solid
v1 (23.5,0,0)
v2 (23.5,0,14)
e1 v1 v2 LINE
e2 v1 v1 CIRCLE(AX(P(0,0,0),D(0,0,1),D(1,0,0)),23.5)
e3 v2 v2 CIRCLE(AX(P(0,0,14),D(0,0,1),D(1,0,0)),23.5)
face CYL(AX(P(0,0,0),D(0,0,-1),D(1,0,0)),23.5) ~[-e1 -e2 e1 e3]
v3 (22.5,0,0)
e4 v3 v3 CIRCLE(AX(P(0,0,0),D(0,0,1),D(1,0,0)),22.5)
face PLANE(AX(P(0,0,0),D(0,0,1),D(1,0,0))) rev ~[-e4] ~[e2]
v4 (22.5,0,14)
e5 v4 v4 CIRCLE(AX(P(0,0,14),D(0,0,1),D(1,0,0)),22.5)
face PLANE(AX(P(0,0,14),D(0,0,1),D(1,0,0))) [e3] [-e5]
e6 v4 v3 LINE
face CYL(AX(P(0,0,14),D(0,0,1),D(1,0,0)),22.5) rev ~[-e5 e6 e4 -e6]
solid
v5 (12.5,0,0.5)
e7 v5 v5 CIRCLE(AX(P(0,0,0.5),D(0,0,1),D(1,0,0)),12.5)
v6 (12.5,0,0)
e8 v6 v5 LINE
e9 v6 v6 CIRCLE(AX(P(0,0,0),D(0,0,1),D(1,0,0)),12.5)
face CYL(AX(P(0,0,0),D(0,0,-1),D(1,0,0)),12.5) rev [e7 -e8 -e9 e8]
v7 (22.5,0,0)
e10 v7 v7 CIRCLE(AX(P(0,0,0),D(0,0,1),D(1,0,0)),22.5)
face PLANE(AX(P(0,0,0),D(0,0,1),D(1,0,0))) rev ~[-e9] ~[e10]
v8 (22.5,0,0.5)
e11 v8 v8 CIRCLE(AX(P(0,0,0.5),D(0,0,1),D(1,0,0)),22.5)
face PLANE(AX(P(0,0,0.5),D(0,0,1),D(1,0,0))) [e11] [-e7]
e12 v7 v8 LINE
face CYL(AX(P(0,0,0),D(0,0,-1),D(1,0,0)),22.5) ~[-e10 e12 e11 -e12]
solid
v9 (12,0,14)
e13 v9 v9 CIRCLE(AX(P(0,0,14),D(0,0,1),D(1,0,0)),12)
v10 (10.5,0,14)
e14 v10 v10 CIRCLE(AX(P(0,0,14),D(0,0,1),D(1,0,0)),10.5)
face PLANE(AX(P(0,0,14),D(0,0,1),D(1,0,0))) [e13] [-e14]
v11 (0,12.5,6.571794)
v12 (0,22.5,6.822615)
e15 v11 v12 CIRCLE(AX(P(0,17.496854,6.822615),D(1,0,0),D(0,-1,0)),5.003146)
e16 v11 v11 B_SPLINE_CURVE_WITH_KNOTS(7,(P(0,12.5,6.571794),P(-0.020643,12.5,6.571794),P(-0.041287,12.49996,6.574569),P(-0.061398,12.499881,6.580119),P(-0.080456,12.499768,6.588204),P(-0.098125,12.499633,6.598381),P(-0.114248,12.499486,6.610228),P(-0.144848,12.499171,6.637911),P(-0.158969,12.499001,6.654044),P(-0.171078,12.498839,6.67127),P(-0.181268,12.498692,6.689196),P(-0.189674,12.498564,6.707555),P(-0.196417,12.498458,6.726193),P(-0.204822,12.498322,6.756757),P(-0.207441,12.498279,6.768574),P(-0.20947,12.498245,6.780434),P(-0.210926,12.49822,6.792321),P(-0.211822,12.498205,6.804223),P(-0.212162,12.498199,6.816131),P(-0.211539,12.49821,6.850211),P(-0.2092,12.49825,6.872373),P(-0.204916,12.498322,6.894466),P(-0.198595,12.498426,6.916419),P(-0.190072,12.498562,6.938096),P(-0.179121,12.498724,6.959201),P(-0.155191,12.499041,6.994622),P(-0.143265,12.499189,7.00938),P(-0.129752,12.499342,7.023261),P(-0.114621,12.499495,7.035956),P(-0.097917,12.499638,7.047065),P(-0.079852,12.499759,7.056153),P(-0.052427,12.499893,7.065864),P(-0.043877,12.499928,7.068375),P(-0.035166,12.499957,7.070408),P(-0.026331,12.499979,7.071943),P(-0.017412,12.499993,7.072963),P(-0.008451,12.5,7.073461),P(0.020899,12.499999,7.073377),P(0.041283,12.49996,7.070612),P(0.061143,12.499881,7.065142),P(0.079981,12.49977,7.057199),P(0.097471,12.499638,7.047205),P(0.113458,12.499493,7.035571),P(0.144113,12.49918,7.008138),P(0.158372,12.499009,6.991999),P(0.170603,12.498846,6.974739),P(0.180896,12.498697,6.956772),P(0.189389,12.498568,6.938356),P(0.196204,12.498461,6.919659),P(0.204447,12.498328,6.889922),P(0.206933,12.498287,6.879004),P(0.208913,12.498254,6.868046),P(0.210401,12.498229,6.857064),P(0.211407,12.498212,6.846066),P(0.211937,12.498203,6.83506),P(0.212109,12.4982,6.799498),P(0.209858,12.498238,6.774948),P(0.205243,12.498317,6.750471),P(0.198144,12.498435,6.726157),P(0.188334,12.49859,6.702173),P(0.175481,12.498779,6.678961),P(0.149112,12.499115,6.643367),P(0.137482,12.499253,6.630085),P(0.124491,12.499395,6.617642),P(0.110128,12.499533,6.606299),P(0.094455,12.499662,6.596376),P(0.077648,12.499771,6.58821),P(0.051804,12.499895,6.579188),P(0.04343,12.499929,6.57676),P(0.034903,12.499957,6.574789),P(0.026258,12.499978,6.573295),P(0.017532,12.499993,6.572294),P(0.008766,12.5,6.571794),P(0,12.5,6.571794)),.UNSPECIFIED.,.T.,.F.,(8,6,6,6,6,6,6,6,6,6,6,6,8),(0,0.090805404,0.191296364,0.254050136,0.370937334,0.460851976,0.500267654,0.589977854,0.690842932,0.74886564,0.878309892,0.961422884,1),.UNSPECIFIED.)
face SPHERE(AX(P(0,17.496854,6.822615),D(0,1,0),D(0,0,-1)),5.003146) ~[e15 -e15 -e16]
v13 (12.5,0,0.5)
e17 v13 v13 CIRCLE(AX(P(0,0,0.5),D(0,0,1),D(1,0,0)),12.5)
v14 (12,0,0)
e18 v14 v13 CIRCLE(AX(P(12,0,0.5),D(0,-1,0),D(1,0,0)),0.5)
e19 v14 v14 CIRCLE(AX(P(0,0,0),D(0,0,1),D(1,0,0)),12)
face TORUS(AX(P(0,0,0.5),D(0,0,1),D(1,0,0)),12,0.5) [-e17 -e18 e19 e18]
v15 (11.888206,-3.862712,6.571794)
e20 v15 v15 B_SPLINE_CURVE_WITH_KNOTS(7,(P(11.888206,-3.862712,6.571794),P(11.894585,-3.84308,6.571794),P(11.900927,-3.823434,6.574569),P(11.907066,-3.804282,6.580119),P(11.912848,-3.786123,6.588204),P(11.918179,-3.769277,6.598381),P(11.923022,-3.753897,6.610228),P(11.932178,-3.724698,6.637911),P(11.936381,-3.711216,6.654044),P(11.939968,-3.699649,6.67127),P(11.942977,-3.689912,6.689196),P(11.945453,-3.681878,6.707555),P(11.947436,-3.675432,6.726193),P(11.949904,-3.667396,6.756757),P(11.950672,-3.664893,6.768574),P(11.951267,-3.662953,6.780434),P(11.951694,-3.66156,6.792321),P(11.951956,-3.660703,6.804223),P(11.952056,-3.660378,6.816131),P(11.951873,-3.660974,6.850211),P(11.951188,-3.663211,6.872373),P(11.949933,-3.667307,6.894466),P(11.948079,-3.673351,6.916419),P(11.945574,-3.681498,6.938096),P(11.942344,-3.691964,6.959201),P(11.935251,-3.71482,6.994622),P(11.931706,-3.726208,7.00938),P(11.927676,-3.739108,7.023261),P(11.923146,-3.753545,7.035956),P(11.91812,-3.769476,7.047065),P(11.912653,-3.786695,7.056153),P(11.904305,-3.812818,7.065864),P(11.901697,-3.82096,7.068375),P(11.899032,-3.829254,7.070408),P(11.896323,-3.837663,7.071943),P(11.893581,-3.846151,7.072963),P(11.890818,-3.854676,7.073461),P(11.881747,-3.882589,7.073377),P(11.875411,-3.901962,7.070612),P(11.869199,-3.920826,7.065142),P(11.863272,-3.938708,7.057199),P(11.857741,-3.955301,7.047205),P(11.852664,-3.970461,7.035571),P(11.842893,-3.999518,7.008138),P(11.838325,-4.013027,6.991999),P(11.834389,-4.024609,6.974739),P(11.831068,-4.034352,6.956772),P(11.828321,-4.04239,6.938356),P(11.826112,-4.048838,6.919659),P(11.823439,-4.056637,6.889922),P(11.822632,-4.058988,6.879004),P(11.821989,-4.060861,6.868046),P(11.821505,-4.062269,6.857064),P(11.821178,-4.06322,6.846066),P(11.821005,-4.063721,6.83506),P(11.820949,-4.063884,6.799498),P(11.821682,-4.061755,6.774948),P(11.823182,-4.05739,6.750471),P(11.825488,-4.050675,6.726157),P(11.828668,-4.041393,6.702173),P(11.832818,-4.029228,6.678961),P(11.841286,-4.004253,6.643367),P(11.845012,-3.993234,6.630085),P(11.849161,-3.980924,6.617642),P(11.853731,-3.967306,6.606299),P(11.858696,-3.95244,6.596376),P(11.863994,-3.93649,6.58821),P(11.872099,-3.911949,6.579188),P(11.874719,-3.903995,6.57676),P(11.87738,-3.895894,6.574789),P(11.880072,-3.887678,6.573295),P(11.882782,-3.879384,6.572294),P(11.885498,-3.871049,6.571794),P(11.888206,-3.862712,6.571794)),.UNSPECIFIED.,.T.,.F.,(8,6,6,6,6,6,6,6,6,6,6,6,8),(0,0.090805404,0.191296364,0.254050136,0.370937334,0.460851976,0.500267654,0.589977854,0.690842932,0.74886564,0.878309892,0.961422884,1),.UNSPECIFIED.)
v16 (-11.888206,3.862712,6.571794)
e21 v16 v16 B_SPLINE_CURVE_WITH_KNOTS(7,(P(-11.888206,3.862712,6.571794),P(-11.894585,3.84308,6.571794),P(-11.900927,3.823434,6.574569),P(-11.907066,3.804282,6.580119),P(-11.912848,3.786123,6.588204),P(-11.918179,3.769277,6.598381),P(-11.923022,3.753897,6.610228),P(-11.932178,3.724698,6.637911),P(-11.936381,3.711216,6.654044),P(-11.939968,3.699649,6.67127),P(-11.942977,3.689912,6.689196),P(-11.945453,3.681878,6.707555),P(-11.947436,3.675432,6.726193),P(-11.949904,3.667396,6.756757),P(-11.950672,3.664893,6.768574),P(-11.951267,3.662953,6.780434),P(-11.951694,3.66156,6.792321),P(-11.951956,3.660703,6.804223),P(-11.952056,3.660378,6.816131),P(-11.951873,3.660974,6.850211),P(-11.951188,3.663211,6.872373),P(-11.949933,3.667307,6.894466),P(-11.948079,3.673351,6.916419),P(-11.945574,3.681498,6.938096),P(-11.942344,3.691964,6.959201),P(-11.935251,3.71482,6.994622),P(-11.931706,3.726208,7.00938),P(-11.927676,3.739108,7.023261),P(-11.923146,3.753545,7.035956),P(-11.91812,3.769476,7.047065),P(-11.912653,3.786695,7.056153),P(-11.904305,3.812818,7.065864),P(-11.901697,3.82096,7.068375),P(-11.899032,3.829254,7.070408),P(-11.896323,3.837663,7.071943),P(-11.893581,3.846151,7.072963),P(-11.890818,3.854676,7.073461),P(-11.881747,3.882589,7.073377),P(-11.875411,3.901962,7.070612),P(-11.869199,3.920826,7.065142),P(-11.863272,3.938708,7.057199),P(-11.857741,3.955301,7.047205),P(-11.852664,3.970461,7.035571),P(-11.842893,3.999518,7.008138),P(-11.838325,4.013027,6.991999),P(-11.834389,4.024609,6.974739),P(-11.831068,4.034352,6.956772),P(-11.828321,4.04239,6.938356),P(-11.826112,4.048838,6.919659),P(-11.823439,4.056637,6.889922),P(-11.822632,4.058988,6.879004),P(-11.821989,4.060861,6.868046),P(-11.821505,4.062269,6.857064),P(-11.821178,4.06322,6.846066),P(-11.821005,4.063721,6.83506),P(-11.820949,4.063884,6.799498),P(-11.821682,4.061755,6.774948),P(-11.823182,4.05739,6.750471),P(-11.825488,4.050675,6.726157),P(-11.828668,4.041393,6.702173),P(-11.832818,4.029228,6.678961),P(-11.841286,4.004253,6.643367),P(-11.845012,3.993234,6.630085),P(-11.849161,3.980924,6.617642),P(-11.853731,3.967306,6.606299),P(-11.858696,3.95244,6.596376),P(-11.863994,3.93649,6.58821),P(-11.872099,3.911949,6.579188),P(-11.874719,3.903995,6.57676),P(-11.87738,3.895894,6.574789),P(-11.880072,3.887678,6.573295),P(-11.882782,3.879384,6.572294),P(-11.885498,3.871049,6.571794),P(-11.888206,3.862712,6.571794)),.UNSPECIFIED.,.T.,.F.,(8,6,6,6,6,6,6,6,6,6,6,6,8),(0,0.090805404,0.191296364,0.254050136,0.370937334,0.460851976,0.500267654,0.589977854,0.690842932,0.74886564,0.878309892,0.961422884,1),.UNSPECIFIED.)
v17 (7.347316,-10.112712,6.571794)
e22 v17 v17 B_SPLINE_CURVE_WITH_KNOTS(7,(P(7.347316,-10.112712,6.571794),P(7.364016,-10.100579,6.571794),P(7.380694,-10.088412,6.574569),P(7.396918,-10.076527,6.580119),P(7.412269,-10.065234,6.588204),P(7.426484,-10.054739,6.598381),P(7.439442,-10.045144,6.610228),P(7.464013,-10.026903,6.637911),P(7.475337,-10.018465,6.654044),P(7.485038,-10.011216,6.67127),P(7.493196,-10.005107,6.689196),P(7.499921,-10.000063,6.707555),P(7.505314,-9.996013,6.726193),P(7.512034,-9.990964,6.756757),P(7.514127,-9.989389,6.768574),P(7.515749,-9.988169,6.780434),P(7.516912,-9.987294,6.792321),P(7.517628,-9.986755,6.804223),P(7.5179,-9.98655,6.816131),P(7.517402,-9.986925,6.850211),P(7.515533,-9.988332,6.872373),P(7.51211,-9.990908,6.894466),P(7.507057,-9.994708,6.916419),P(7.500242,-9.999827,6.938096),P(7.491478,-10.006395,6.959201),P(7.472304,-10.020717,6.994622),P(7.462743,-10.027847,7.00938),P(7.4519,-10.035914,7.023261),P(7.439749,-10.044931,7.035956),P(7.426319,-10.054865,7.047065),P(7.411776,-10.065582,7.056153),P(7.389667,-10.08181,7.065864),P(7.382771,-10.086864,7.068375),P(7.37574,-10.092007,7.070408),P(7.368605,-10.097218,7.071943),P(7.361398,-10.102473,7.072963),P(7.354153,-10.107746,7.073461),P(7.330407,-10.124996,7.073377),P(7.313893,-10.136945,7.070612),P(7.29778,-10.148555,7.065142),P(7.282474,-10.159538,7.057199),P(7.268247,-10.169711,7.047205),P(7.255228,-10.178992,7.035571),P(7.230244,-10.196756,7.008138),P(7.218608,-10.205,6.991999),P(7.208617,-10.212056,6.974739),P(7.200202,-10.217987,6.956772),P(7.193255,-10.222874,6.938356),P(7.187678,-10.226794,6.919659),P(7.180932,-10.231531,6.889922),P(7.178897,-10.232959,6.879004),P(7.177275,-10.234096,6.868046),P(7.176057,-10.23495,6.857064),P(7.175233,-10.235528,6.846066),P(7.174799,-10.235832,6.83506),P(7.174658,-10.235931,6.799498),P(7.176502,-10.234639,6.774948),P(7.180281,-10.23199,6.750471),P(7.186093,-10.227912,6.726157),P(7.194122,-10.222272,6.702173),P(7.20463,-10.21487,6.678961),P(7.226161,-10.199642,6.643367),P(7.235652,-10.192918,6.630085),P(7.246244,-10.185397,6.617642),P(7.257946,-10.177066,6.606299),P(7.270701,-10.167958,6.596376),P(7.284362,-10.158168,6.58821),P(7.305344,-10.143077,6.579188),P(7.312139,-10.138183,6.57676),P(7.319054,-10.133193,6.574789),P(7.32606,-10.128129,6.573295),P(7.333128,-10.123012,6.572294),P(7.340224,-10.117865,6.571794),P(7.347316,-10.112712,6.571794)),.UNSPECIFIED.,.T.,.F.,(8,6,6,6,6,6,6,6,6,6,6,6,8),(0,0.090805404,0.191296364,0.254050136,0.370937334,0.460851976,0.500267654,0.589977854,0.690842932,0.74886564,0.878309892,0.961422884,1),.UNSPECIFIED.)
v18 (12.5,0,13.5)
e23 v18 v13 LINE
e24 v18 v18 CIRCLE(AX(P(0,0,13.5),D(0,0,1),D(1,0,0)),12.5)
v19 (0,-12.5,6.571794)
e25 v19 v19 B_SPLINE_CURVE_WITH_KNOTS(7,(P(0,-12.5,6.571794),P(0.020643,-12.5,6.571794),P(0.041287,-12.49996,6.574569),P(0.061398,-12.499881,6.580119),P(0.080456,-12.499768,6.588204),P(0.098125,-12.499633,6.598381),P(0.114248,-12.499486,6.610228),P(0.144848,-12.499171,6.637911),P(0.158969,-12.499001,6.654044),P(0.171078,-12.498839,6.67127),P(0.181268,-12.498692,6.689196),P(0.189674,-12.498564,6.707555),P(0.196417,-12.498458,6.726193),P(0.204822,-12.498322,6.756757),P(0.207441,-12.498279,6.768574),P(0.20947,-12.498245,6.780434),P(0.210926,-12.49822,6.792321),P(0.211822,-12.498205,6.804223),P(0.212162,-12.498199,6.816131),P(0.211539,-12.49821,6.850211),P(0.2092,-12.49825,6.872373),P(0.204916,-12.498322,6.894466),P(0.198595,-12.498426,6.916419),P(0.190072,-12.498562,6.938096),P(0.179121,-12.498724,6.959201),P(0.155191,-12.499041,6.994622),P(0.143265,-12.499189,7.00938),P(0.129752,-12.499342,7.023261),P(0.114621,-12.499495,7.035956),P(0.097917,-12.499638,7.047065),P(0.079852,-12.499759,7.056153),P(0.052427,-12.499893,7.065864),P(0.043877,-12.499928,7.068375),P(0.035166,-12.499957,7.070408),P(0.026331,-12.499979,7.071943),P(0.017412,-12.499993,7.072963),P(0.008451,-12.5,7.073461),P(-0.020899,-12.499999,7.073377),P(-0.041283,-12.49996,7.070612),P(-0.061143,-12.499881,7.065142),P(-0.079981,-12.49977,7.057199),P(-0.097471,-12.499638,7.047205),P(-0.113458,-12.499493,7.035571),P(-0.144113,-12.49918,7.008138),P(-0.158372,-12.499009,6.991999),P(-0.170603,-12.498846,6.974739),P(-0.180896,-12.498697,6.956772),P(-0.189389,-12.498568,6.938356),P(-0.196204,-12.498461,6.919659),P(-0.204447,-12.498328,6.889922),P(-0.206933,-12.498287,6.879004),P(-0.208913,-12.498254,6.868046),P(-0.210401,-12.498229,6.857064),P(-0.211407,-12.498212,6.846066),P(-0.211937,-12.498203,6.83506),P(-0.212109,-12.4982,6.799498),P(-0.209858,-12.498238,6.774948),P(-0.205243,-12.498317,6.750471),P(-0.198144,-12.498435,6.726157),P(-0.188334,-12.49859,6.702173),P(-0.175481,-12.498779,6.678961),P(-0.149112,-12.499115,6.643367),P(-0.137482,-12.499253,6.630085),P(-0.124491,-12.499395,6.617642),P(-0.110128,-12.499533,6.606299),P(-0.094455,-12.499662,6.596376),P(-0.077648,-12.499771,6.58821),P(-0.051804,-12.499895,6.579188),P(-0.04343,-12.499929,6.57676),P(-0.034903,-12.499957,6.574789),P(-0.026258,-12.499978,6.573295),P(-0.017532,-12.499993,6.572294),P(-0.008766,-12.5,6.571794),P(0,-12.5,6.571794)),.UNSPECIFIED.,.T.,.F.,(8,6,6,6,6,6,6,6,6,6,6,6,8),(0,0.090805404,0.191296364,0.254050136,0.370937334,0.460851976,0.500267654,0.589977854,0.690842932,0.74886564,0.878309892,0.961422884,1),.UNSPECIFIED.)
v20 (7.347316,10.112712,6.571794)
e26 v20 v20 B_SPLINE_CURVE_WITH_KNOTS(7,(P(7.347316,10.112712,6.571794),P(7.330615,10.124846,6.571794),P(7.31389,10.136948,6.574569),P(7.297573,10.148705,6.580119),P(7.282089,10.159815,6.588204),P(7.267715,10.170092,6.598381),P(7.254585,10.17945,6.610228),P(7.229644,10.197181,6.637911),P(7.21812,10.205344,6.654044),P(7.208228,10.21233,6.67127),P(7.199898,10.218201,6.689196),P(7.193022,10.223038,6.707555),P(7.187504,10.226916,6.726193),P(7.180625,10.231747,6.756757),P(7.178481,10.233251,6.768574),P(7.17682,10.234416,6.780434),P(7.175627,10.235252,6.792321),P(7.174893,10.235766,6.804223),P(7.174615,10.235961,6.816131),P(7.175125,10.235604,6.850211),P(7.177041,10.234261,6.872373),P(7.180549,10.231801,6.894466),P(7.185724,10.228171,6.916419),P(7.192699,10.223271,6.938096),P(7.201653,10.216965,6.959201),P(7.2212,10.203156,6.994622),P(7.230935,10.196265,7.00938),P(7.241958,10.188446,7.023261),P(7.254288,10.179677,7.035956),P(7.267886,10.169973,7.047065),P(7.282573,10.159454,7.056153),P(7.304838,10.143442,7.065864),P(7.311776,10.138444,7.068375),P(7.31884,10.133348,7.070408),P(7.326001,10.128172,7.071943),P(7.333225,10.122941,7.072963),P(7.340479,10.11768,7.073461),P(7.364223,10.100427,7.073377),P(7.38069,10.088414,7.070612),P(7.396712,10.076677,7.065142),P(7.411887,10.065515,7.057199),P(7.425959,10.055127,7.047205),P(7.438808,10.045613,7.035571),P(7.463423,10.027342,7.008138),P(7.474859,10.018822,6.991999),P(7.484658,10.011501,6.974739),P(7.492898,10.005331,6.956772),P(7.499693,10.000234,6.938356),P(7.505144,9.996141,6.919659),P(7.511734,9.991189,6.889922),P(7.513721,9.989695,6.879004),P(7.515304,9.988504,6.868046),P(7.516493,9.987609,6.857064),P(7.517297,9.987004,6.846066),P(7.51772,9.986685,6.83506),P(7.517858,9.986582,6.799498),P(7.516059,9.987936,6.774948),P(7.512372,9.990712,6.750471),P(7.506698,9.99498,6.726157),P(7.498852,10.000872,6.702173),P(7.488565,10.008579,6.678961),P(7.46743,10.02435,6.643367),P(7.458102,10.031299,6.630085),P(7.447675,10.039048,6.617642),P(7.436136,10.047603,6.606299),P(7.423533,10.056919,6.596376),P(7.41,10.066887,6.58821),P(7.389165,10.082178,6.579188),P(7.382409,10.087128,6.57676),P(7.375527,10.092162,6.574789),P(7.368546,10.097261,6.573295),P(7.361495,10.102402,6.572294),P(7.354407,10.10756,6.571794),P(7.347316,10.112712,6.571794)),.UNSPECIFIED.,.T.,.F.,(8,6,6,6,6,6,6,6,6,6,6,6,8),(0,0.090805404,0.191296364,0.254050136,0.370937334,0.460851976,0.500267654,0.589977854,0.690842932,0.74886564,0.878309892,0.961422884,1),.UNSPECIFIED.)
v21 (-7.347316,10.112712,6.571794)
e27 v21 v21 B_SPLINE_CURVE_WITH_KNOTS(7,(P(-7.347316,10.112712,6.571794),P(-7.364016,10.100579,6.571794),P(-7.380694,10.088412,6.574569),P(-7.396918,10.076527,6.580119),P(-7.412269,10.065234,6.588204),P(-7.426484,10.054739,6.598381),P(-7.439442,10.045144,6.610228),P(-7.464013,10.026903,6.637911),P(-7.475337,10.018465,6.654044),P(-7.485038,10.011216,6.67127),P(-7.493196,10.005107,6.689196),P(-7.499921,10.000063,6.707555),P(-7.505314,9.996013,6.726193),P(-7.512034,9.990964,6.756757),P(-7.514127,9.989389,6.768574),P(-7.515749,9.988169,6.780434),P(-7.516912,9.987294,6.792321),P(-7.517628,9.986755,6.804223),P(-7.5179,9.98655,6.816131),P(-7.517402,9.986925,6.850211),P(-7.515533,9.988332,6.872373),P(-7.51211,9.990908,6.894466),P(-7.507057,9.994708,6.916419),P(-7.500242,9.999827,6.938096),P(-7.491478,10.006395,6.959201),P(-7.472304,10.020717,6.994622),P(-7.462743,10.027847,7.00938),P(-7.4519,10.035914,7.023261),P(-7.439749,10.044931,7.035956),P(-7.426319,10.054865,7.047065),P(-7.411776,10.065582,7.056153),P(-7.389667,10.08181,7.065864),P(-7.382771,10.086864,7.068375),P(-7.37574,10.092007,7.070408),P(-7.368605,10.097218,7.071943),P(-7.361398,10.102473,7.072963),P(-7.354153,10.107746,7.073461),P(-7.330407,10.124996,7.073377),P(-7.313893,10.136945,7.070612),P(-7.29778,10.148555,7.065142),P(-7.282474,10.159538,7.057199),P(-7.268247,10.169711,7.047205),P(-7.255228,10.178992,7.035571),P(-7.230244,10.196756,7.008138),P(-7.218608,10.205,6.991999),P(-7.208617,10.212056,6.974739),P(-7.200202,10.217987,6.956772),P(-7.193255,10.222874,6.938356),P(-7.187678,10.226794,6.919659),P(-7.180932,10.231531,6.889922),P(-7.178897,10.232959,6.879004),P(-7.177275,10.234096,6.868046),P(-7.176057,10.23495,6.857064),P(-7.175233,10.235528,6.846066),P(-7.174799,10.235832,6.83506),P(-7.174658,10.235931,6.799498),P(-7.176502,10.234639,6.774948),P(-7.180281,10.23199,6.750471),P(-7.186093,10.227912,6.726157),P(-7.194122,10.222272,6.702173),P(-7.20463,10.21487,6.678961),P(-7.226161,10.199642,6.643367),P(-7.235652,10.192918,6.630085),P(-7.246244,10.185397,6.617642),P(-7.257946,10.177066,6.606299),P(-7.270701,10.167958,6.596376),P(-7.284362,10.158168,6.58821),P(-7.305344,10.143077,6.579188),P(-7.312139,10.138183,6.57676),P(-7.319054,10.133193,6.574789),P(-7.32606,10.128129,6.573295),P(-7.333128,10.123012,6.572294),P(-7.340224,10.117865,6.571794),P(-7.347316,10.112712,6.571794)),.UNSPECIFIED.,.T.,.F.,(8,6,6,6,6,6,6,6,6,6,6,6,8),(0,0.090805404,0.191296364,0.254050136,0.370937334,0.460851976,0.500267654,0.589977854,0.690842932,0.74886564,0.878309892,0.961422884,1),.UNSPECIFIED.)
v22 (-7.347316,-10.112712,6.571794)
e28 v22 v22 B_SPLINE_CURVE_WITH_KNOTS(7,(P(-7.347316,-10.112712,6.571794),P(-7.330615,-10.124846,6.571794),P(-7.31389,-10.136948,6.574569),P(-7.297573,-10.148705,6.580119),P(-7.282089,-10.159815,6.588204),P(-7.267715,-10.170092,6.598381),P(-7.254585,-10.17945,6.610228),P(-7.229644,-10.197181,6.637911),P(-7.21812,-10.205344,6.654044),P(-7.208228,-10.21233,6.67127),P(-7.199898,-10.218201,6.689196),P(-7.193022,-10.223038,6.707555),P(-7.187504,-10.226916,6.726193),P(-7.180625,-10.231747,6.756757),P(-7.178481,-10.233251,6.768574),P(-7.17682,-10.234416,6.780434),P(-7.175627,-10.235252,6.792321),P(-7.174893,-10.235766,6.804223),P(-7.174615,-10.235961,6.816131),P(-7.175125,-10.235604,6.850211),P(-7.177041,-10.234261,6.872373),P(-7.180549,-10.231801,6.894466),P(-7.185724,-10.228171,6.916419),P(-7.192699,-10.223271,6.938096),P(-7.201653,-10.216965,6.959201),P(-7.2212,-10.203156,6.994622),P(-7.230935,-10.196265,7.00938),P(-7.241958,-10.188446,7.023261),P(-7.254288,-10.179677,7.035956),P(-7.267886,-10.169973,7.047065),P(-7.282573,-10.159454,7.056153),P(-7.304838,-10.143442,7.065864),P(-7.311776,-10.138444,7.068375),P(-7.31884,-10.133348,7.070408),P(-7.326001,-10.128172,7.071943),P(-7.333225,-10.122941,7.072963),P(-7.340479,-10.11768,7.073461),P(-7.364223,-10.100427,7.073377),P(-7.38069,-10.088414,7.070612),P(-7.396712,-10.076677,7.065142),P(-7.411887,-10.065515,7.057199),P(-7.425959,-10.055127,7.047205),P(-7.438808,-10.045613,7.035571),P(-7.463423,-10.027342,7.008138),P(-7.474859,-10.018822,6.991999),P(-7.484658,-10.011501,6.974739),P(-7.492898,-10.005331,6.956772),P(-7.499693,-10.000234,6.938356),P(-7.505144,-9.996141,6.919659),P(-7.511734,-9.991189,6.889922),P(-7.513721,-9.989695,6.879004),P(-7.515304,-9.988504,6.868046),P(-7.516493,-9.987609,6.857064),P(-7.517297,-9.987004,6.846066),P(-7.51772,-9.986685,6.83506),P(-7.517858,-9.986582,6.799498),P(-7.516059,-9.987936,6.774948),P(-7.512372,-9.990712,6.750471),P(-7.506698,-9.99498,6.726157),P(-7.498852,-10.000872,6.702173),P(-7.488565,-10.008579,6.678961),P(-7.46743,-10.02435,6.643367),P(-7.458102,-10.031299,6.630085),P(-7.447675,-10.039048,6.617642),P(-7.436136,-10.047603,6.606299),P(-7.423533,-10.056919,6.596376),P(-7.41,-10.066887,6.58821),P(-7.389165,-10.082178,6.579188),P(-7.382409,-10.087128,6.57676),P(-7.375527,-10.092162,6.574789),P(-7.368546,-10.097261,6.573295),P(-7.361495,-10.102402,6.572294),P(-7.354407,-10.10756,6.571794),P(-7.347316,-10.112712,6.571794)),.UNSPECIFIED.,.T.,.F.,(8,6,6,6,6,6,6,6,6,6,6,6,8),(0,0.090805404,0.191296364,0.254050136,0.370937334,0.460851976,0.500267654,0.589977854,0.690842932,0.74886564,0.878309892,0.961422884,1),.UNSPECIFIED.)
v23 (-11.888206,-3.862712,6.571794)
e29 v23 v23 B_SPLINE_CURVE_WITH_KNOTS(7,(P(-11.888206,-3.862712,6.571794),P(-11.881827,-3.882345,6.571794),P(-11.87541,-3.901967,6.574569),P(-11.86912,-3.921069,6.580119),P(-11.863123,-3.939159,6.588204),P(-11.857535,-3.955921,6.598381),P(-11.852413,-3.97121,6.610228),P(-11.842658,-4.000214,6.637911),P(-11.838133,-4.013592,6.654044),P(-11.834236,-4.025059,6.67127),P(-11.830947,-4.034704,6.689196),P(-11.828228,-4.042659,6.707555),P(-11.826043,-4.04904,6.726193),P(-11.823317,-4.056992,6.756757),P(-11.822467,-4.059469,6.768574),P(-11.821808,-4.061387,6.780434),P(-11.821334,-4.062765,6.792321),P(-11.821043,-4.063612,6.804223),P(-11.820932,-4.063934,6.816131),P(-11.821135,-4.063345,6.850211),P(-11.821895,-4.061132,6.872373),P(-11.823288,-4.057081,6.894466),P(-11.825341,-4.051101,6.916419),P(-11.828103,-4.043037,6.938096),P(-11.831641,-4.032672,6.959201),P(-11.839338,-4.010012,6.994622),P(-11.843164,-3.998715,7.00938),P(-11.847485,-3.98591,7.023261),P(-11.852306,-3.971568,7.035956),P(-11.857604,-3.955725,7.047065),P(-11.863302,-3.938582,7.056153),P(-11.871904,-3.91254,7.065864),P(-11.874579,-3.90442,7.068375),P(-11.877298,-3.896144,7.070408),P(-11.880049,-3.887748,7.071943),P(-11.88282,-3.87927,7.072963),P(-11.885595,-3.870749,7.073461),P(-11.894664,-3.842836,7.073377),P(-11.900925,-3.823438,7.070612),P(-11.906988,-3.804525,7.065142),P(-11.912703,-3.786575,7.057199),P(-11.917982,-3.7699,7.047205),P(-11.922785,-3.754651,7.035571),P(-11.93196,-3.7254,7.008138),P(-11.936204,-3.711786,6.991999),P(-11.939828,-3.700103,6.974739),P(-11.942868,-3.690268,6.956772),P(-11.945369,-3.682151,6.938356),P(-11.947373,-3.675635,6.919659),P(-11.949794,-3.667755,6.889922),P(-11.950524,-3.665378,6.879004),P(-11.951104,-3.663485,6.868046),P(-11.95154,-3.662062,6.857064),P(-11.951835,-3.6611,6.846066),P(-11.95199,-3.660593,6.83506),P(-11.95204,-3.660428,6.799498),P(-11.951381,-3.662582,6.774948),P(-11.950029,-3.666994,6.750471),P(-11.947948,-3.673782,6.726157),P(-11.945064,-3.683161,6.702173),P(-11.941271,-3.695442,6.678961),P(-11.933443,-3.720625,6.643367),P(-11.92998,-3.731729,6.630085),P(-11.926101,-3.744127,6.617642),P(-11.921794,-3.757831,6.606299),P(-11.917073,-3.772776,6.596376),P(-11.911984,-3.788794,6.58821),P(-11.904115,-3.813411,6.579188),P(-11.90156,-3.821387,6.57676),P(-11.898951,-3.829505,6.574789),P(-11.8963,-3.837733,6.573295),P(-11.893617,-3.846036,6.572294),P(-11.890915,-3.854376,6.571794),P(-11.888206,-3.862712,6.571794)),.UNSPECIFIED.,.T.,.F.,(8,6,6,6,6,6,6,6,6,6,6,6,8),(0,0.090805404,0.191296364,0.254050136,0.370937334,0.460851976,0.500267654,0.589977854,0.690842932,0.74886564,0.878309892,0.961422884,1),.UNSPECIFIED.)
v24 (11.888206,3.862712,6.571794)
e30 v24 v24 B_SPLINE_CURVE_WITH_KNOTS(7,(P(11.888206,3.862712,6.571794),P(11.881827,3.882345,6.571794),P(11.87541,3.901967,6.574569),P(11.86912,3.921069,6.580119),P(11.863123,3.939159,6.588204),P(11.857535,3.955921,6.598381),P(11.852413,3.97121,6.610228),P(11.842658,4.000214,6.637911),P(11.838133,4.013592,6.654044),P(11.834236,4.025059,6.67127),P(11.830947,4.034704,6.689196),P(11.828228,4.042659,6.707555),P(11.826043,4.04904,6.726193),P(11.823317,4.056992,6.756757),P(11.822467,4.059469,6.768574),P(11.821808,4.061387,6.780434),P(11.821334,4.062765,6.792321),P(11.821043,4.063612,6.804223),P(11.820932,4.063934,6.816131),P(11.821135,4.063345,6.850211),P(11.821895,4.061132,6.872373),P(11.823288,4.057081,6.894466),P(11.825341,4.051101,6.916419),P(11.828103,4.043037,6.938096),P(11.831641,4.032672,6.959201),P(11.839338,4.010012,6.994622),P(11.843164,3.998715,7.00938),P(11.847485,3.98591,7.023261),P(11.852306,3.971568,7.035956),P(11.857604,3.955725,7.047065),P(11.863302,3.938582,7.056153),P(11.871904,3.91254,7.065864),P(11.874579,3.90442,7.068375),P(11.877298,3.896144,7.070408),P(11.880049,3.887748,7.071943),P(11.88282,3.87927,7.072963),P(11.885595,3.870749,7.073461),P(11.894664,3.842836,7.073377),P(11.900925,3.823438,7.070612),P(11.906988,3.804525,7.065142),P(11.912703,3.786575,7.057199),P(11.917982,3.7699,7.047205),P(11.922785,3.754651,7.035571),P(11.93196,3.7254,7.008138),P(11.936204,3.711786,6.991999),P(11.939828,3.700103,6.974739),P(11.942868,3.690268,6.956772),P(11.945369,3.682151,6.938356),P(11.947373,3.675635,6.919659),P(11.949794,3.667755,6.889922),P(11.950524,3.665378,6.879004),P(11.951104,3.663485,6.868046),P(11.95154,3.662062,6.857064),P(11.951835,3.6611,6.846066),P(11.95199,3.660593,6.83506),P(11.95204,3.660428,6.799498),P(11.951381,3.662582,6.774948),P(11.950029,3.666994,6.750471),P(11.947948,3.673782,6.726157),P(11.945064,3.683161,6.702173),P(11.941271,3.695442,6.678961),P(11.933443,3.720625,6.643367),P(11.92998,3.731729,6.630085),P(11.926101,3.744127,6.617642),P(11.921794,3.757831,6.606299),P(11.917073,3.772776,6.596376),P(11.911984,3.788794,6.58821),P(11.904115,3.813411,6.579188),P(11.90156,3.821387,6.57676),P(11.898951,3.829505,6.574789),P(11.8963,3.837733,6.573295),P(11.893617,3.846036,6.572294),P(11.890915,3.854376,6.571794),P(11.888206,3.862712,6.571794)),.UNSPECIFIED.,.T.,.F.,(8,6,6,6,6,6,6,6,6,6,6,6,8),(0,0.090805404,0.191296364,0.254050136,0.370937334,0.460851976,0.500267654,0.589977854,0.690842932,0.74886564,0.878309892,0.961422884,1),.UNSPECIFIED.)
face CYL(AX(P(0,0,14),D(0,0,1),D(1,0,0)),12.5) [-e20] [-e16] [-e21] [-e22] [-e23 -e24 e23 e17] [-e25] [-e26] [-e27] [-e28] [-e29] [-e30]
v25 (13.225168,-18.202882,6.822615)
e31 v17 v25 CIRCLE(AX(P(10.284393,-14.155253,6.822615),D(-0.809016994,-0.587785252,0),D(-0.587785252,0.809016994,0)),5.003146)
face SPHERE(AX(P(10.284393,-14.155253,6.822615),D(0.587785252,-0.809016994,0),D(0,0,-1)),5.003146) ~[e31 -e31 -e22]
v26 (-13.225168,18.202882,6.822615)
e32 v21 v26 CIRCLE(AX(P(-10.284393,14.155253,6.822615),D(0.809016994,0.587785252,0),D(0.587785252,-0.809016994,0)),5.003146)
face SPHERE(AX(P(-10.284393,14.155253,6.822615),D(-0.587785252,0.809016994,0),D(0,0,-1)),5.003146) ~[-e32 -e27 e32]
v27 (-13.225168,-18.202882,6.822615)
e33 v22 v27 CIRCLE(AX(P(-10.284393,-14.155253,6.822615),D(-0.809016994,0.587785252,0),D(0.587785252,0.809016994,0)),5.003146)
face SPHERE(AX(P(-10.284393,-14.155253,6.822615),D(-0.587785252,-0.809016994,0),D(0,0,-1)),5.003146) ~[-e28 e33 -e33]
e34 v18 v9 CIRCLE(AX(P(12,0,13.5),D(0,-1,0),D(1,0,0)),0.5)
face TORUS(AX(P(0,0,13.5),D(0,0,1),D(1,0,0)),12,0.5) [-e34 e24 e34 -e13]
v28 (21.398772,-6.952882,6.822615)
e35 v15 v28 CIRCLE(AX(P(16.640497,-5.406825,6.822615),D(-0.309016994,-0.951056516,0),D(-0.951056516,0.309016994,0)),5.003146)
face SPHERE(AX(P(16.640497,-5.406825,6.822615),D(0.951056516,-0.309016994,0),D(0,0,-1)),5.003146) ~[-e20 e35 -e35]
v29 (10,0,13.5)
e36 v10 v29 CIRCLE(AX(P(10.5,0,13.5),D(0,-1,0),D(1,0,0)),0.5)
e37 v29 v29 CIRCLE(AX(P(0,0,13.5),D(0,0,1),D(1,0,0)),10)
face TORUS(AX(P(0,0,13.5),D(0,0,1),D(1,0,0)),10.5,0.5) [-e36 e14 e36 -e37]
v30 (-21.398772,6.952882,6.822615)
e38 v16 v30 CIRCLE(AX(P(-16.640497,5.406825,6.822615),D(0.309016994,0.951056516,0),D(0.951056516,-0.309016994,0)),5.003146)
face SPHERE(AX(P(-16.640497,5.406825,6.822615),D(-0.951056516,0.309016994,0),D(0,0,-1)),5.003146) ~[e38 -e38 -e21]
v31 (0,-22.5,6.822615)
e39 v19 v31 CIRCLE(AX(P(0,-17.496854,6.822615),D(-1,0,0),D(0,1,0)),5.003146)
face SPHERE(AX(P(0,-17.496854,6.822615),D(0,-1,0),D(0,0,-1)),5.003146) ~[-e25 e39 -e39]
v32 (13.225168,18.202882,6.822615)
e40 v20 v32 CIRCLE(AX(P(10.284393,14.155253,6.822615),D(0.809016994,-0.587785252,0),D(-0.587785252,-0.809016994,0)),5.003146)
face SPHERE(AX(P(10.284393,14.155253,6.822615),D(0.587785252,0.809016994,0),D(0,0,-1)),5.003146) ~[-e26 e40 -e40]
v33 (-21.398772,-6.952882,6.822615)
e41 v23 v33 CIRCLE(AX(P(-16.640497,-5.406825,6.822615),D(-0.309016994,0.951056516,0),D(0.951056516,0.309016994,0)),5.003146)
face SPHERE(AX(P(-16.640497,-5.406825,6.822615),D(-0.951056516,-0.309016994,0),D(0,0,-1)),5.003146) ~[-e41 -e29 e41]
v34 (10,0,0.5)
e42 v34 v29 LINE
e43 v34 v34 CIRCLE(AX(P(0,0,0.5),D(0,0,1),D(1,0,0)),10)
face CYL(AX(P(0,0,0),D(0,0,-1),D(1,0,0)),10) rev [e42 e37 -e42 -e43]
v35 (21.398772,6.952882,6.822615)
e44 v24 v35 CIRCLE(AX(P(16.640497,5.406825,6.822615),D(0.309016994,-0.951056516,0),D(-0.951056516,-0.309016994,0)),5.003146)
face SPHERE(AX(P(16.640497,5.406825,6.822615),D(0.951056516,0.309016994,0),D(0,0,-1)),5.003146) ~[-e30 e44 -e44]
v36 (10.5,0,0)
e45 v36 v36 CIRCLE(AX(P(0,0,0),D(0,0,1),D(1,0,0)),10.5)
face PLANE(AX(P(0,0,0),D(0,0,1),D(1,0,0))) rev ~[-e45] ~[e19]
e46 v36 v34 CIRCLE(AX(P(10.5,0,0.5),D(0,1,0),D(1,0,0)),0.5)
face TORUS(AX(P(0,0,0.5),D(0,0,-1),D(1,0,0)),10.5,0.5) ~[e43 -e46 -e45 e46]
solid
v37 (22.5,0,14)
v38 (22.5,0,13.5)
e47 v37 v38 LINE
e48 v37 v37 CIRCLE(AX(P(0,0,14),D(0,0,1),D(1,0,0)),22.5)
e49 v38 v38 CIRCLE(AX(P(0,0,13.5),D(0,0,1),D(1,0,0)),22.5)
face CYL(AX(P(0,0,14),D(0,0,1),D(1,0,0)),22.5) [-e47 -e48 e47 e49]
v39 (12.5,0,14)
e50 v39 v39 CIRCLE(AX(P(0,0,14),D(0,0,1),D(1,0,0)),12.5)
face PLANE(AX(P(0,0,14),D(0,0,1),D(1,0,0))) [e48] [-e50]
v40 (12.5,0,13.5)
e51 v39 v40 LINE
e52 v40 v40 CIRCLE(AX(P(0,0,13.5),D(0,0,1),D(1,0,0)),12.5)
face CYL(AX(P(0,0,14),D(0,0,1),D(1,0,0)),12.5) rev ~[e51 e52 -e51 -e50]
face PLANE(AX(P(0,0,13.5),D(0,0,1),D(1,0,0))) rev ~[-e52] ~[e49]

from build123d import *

# Parameters (mm, degrees)
SKETCH1_R               = 23.5
SKETCH1_R_2             = 10
BOSS_EXTRUDE1_DEPTH     = 14
SKETCH2_R               = 22.5
SKETCH2_R_2             = 12.5
CUT_EXTRUDE1_DEPTH      = 14
CIRCULAR_PATTERN1_COUNT = 10
FILLET1_R               = 0.5
FILLET3_R               = 0.5
SKETCH5_R               = 22.5
SKETCH5_R_2             = 12.5
BOSS_EXTRUDE3_DEPTH     = 0.5
SKETCH6_R               = 22.5
SKETCH6_R_2             = 12.5
BOSS_EXTRUDE4_DEPTH     = 0.5
FILLET5_R               = 0.5
FILLET6_R               = 0.5


with BuildPart() as part:
    # Sketch1 → Boss-Extrude1 (new body)
    with BuildSketch(Plane.XY):
        Circle(SKETCH1_R)
        Circle(SKETCH1_R_2, mode=Mode.SUBTRACT)
    extrude(amount=BOSS_EXTRUDE1_DEPTH)

    # Sketch2 → Cut-Extrude1 (cut)
    with BuildSketch(Plane.XY.offset(14)):
        Circle(SKETCH2_R)
        Circle(SKETCH2_R_2, mode=Mode.SUBTRACT)
    extrude(amount=-CUT_EXTRUDE1_DEPTH, mode=Mode.SUBTRACT)

    # Sketch3 → Revolve1 (revolve)
    with BuildSketch(Plane(origin=(0, 0, 0), x_dir=(0, 0, -1), z_dir=(1, 0, 0))):
        with BuildLine():
            Line((-6.822615032, 22.5), (-6.822615032, 12.493708894))
            ThreePointArc((-6.822615032, 12.493708894), (-1.819469479, 17.496854447), (-6.822615032, 22.5))
        make_face()
    revolve1 = revolve(axis=Axis((0, 22.5, 6.822615032), (0, -1, 0)))

    # Circular-Pattern1: Revolve1 ×10 about axis
    circular_pattern1_axis = Axis((0, 0, 0), (0, 0, 1))
    for i in range(1, CIRCULAR_PATTERN1_COUNT):
        add(revolve1.rotate(circular_pattern1_axis, i * 360 / CIRCULAR_PATTERN1_COUNT))

    # Fillet1
    fillet1_edges = [part.edges().sort_by_distance(p)[0] for p in [
        (-10, 0, 0),
    ]]
    fillet(fillet1_edges, radius=FILLET1_R)

    # Fillet3
    fillet3_edges = [part.edges().sort_by_distance(p)[0] for p in [
        (-12.5, 0, 0),
    ]]
    fillet(fillet3_edges, radius=FILLET3_R)

    # Fillet5
    fillet5_edges = [part.edges().sort_by_distance(p)[0] for p in [
        (-12.5, 0, 14),
    ]]
    fillet(fillet5_edges, radius=FILLET5_R)

    # Fillet6
    fillet6_edges = [part.edges().sort_by_distance(p)[0] for p in [
        (-10, 0, 14),
    ]]
    fillet(fillet6_edges, radius=FILLET6_R)


with BuildPart() as body_2:
    # Sketch5 → Boss-Extrude3 (new body)
    with BuildSketch(Plane.XY):
        Circle(SKETCH5_R)
        Circle(SKETCH5_R_2, mode=Mode.SUBTRACT)
    extrude(amount=BOSS_EXTRUDE3_DEPTH)


with BuildPart() as body_3:
    # Sketch6 → Boss-Extrude4 (new body)
    with BuildSketch(Plane.XY.offset(14)):
        Circle(SKETCH6_R)
        Circle(SKETCH6_R_2, mode=Mode.SUBTRACT)
    extrude(amount=-BOSS_EXTRUDE4_DEPTH)


solid = Compound([part.part, body_2.part, body_3.part])
